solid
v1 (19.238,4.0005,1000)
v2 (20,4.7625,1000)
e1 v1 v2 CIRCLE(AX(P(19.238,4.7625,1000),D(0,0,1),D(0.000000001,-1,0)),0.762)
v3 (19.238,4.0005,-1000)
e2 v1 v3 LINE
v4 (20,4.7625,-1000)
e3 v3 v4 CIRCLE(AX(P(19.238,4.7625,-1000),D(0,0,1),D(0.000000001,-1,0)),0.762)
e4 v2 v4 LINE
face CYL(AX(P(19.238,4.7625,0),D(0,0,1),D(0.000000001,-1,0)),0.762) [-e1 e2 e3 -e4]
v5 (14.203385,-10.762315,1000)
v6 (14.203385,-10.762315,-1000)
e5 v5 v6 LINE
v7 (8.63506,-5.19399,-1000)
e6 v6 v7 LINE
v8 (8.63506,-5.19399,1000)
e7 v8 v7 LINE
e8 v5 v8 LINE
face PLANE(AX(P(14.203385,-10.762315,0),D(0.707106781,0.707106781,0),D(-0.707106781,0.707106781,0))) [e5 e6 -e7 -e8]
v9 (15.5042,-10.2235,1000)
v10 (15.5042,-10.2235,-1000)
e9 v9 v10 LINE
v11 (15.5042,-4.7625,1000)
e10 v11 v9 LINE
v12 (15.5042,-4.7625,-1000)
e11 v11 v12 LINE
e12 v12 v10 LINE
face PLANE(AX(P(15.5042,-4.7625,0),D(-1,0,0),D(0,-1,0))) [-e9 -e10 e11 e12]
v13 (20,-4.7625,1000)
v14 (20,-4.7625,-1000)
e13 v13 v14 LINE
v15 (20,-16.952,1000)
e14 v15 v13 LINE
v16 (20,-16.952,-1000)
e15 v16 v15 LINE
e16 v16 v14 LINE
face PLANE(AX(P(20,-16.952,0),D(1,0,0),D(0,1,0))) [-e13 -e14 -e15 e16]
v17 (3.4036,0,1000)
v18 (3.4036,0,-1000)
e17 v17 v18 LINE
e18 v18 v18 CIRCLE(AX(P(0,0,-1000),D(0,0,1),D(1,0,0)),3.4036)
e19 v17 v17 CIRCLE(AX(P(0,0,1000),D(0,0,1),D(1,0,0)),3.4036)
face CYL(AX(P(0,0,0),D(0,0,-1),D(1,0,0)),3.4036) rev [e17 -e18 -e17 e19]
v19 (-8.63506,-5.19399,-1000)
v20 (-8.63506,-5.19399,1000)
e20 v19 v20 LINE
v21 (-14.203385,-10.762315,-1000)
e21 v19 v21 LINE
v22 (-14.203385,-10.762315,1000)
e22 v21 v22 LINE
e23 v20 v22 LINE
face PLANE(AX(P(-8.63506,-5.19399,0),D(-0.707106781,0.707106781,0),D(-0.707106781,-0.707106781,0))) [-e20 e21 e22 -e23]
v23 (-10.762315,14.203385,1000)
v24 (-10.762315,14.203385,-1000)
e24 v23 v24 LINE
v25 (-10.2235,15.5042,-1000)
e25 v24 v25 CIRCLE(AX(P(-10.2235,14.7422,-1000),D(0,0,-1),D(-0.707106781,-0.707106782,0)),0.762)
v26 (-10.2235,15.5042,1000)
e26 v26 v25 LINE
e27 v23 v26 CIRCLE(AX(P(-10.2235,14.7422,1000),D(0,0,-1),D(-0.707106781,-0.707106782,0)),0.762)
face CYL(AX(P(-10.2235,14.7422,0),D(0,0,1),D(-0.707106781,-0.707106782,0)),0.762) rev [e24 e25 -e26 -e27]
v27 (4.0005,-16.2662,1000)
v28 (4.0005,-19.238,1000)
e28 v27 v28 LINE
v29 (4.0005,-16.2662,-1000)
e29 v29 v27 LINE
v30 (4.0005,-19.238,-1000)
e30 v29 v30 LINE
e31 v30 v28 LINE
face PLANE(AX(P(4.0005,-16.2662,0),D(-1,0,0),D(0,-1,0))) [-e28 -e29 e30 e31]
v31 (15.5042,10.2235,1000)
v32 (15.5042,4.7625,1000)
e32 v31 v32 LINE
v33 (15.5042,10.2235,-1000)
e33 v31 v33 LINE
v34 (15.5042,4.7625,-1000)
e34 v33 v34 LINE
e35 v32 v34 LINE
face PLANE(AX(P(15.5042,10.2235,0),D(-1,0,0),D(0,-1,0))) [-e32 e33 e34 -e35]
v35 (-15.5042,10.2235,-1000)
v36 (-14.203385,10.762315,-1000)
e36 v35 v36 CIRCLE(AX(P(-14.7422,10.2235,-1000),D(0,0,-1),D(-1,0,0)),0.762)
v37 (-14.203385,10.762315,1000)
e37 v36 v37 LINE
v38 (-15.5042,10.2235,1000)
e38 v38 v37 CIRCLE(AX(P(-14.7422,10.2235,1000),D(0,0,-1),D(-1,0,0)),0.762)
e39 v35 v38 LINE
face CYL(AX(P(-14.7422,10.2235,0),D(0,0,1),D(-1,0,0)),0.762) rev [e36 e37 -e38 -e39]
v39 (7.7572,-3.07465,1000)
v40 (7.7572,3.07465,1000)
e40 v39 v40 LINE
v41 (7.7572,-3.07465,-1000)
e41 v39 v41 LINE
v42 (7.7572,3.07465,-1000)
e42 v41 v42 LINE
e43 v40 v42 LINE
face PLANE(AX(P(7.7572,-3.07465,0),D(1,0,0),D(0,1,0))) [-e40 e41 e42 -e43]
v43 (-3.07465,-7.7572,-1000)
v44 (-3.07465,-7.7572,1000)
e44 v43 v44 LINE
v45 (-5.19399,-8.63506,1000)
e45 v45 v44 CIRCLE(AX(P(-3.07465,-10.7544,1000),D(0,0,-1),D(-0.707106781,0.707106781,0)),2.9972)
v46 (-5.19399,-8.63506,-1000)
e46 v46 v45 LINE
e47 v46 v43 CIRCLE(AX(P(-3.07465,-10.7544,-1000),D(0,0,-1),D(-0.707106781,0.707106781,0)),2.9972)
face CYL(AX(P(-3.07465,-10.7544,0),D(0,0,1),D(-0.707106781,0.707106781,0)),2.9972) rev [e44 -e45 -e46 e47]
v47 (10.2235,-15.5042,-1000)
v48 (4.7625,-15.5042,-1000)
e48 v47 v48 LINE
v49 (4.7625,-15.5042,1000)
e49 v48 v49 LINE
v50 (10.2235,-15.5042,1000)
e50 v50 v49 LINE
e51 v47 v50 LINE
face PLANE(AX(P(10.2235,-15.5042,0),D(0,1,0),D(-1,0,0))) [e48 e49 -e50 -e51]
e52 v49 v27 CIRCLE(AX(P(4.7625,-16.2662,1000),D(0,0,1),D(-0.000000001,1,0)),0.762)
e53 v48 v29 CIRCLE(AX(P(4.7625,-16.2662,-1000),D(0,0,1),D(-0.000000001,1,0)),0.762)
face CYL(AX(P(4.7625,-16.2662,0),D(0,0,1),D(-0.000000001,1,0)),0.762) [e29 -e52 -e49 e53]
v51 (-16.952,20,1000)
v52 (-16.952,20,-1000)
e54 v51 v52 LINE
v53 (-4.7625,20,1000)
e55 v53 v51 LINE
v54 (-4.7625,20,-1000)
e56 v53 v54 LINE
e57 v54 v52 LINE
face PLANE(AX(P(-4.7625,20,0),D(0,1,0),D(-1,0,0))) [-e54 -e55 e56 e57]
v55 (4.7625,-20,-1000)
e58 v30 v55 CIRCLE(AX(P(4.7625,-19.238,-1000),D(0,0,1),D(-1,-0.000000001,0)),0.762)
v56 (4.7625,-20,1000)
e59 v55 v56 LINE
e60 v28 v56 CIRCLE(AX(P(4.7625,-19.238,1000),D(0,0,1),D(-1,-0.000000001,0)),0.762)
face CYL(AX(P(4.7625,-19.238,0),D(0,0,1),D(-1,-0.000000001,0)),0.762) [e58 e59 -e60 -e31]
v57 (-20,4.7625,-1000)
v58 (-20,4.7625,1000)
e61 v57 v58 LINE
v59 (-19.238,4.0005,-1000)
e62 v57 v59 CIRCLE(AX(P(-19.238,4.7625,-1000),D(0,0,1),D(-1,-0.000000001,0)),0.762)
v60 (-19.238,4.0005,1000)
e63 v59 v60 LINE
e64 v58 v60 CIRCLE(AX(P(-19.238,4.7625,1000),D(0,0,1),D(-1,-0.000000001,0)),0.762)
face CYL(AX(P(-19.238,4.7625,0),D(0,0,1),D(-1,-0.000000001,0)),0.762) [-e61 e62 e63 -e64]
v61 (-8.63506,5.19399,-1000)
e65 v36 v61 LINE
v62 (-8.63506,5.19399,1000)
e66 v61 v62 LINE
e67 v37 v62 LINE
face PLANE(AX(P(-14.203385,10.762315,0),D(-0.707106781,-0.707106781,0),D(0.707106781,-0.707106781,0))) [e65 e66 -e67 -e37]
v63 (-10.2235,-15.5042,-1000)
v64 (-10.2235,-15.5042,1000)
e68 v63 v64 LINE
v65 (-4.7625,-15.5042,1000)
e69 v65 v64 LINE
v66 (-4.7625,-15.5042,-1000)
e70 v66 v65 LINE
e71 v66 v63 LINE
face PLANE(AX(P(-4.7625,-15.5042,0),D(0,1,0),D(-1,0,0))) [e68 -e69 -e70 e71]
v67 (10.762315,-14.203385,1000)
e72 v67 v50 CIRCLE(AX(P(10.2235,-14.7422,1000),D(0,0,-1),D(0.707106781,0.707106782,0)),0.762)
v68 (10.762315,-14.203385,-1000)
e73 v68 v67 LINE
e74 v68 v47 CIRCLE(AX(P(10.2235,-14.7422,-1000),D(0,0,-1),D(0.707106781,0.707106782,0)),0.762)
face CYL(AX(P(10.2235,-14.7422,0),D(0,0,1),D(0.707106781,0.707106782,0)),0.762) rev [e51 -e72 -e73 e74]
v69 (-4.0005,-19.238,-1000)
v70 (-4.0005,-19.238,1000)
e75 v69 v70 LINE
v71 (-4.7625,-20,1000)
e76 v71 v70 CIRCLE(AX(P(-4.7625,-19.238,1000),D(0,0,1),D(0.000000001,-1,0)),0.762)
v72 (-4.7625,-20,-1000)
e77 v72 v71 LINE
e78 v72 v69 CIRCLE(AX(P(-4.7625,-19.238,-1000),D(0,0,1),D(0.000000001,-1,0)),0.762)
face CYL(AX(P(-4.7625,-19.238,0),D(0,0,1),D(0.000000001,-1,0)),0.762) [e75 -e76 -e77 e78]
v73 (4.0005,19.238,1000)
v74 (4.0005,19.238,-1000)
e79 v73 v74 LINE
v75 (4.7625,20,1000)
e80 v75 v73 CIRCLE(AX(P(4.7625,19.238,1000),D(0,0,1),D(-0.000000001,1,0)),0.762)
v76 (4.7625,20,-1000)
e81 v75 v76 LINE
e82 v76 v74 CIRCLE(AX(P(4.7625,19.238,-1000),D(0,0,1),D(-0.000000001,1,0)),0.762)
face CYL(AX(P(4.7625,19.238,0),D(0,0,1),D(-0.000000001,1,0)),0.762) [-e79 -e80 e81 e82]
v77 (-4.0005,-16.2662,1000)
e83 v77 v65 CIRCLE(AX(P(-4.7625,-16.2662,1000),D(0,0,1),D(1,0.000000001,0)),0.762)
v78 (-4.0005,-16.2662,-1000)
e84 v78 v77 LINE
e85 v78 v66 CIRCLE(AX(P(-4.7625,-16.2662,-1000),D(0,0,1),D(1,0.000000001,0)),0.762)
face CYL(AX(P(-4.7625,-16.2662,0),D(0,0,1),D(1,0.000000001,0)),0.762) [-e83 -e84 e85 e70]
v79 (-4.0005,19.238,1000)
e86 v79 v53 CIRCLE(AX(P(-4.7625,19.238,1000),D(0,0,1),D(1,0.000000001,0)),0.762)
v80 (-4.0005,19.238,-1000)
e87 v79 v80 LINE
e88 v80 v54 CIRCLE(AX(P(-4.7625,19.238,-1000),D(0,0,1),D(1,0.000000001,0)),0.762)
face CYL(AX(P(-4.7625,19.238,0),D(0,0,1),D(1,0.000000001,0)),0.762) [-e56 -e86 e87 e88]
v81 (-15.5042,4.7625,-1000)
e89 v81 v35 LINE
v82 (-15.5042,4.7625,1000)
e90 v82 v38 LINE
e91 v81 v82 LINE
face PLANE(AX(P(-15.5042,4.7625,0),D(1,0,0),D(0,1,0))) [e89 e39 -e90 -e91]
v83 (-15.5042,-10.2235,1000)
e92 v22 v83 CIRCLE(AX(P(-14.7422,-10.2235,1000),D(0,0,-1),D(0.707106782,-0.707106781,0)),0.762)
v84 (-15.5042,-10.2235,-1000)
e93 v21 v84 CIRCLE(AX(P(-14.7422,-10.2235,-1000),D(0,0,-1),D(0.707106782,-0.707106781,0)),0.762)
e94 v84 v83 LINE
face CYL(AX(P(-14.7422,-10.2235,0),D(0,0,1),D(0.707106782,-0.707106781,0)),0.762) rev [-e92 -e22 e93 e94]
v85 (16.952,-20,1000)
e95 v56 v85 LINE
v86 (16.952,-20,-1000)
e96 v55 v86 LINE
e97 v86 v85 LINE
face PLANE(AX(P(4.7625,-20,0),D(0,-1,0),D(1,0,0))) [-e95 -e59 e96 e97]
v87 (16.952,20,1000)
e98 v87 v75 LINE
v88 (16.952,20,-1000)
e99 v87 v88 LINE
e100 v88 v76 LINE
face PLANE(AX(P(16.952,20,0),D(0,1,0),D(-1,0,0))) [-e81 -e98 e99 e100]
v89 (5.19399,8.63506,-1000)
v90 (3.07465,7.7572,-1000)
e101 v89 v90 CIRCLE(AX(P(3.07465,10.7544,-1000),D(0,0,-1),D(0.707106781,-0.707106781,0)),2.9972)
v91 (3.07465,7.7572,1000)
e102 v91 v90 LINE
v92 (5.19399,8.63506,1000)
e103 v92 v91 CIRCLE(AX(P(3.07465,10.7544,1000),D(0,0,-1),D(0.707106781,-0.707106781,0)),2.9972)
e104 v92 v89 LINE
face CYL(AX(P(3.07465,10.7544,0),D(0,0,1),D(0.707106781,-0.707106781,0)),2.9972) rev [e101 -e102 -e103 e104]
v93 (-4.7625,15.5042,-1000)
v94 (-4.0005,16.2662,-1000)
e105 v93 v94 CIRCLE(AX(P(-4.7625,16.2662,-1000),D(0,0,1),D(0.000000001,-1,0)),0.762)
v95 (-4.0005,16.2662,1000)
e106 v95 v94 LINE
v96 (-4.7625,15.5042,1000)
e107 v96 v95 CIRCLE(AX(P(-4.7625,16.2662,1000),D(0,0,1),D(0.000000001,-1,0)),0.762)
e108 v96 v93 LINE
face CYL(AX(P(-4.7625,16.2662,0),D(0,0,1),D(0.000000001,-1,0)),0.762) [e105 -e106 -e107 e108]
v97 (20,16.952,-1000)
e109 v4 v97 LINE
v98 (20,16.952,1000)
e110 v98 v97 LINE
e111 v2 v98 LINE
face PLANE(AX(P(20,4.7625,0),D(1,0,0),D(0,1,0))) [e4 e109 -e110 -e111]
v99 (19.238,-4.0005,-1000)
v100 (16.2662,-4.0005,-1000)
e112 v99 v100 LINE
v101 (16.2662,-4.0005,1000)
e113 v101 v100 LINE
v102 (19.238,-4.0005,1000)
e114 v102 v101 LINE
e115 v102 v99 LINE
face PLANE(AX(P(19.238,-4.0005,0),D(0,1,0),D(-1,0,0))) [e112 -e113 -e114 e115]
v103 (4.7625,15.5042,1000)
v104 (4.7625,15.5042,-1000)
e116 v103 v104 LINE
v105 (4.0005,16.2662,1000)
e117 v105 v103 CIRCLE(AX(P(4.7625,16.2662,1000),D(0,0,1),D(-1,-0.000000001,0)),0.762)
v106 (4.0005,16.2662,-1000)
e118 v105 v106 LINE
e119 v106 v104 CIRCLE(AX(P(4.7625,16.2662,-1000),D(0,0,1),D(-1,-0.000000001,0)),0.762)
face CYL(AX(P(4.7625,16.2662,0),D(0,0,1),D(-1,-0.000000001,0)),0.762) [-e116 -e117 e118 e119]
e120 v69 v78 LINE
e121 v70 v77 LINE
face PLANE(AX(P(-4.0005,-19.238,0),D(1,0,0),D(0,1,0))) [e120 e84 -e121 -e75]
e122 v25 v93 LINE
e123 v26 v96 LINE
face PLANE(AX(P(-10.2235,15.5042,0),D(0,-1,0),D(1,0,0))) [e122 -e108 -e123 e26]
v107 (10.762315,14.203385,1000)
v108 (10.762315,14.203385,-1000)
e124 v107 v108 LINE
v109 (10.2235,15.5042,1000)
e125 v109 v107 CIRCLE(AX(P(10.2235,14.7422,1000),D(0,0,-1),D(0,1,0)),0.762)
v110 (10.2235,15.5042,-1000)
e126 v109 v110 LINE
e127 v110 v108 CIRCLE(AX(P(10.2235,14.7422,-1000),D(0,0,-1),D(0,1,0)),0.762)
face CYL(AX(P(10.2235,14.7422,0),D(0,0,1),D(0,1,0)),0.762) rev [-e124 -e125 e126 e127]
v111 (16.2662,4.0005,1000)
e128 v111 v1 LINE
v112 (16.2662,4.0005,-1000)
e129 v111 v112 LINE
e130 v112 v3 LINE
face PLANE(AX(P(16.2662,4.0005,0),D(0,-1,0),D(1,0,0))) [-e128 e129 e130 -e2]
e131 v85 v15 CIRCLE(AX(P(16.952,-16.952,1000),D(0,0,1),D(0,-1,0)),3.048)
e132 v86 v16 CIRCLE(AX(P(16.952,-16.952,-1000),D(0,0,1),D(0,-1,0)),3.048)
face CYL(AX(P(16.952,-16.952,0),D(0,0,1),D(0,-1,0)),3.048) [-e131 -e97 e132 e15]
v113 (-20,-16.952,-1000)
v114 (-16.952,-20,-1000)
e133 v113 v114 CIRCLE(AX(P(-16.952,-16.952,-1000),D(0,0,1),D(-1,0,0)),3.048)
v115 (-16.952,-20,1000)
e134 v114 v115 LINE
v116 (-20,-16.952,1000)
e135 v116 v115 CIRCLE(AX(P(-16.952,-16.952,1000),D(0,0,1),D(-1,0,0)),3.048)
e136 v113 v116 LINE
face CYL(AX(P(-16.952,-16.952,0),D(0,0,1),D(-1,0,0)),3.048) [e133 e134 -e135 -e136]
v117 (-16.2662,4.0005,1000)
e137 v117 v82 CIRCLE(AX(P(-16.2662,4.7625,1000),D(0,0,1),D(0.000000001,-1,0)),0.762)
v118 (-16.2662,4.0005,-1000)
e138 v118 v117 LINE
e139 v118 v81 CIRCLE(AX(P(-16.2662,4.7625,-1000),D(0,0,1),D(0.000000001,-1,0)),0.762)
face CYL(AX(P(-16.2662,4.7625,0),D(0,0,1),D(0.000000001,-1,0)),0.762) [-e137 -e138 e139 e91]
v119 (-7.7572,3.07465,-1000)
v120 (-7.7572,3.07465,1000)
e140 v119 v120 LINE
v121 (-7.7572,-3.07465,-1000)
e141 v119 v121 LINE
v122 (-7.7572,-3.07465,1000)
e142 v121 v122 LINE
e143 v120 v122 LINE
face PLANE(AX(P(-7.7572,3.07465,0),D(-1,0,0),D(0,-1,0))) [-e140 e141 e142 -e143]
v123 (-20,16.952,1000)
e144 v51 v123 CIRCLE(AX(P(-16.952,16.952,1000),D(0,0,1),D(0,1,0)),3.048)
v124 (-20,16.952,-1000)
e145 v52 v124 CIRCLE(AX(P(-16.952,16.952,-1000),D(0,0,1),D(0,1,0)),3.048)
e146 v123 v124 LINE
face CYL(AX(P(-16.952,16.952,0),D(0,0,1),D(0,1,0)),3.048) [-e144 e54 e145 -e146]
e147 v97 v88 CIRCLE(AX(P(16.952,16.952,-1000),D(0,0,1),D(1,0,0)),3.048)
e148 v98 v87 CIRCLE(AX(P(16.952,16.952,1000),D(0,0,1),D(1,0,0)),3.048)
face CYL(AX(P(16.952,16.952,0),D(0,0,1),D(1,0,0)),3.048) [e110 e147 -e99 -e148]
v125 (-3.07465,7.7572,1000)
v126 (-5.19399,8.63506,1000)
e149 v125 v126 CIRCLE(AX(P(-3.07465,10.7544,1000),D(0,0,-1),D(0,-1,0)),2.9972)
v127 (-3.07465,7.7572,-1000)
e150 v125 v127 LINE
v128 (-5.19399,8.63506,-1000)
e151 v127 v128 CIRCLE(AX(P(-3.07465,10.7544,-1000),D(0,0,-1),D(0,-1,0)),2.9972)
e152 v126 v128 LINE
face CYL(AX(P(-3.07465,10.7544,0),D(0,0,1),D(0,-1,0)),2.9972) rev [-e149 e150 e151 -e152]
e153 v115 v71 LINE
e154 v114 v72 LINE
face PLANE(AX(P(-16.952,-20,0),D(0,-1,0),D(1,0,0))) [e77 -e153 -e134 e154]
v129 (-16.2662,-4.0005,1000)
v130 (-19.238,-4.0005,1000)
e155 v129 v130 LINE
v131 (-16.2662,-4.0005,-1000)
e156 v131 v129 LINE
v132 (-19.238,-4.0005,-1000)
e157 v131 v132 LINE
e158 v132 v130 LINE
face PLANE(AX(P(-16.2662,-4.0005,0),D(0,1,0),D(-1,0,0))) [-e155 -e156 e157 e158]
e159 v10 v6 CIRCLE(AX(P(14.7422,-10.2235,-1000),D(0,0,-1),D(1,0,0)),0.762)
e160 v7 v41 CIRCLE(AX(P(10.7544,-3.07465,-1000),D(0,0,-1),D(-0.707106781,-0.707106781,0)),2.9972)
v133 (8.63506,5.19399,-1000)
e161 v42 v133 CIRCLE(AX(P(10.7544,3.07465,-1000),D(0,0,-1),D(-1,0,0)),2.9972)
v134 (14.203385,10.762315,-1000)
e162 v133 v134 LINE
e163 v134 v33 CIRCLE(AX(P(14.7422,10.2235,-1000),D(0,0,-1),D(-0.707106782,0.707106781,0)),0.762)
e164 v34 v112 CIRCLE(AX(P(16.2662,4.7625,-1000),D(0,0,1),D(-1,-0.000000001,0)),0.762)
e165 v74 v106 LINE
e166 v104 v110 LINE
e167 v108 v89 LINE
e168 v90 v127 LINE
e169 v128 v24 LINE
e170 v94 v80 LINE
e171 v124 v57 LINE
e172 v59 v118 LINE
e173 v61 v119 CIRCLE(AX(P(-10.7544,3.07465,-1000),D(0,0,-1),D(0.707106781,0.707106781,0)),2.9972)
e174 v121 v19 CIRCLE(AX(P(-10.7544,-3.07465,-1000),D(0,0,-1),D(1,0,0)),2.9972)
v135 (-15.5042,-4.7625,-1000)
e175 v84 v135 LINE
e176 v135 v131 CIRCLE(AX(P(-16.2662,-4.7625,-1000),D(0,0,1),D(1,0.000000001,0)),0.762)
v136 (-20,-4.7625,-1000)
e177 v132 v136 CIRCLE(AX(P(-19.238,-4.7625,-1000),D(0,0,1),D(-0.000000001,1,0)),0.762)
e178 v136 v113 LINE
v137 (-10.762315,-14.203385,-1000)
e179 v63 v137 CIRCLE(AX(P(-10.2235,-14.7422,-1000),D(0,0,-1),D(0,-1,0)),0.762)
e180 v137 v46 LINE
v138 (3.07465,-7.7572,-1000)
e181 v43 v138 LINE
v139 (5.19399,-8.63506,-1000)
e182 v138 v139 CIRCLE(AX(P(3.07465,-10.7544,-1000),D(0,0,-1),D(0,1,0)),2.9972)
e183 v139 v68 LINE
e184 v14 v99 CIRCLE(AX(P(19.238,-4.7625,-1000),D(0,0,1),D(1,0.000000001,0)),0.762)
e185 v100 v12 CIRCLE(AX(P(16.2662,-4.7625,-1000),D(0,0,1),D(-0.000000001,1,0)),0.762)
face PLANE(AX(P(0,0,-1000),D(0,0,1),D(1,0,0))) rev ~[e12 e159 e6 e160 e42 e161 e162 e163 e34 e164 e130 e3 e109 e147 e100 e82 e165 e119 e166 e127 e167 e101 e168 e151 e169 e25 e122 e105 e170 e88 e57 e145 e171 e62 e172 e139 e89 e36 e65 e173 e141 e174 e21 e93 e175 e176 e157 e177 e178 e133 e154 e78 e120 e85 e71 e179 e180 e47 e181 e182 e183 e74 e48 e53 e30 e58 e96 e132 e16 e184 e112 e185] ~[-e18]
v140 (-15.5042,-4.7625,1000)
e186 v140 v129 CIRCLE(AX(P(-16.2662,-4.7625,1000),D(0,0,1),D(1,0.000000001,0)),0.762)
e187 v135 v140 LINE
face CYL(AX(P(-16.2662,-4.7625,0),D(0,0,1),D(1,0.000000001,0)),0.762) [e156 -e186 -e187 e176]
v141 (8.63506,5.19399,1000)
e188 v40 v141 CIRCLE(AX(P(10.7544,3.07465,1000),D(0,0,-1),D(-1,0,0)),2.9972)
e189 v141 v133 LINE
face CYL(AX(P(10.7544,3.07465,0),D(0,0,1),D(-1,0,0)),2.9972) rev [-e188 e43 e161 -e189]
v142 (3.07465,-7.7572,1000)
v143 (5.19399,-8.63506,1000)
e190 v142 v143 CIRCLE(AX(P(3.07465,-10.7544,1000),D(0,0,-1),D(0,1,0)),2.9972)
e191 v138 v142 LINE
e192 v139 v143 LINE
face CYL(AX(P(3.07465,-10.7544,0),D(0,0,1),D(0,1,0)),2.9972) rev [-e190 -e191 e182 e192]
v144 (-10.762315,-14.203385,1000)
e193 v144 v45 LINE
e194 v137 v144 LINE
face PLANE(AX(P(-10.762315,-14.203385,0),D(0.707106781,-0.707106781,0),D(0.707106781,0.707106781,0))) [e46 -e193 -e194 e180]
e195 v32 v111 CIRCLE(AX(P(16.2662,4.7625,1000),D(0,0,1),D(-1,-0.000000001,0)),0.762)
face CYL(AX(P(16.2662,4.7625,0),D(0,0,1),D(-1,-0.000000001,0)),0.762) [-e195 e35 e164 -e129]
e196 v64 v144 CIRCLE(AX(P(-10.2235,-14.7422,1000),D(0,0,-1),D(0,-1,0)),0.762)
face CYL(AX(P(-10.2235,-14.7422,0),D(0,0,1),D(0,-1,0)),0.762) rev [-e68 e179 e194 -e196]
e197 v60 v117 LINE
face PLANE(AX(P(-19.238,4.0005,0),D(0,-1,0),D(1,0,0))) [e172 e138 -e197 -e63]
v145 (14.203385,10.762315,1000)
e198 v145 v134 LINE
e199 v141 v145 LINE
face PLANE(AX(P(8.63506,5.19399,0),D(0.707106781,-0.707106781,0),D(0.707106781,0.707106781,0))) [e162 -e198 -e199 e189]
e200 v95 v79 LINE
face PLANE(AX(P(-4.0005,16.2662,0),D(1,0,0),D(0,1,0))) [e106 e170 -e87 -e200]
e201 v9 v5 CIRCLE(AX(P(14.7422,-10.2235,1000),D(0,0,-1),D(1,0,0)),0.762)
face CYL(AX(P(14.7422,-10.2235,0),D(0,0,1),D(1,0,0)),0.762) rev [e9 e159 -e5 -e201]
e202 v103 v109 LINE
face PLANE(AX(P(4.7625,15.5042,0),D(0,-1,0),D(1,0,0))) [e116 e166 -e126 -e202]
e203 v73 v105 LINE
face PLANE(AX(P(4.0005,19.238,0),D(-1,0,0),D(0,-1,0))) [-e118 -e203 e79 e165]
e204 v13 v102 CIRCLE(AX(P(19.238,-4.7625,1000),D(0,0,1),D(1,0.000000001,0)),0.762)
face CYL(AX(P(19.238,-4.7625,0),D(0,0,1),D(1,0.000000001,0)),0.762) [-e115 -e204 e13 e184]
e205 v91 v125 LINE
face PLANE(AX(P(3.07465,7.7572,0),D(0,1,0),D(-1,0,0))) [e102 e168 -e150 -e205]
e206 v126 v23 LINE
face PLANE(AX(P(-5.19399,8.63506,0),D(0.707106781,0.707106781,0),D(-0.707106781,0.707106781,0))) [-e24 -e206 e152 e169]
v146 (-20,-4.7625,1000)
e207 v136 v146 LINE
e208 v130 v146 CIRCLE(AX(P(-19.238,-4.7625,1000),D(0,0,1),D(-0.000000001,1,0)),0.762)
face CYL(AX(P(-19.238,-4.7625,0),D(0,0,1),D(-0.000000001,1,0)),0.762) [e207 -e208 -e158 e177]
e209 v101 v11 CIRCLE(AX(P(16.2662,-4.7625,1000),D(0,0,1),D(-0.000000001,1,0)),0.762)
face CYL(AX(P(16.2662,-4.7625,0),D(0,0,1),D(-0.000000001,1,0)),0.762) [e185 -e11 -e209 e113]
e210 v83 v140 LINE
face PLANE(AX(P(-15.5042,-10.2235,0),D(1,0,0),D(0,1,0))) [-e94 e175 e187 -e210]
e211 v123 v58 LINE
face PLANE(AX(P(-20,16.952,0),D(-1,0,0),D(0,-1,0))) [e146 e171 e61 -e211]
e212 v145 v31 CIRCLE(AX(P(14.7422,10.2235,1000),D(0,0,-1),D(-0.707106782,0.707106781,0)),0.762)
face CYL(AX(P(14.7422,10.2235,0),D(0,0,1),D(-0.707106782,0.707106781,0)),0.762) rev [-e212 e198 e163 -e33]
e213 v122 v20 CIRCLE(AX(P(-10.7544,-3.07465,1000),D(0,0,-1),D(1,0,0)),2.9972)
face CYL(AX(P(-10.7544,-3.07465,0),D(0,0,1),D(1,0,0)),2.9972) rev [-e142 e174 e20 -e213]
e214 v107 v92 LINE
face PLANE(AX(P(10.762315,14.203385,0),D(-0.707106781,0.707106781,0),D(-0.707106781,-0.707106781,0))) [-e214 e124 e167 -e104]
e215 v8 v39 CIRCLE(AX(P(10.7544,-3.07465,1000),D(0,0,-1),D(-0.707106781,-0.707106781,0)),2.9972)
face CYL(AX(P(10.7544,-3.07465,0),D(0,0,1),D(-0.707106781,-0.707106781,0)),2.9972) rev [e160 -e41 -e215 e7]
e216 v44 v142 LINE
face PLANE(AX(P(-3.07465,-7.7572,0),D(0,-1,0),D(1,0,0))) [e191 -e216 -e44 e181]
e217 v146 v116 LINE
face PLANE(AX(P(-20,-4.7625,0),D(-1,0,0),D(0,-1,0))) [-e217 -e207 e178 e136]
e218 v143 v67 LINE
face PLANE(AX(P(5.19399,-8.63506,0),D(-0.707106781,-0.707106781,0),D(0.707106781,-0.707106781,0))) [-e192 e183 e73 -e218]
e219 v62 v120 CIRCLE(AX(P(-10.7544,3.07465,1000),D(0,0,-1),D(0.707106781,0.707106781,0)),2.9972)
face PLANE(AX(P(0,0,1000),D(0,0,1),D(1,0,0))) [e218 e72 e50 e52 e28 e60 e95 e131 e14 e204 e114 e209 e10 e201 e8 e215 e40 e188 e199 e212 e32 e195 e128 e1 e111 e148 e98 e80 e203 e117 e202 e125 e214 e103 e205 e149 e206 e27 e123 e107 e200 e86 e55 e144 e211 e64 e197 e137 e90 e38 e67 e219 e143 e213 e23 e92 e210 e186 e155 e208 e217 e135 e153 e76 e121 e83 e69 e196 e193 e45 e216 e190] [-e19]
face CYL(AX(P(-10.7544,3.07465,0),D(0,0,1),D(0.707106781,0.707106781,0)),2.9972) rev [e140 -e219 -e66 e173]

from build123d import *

# Parameters (mm, degrees)
SKETCH1_R           = 3.4036
BOSS_EXTRUDE1_DEPTH = 1000


with BuildPart() as part:
    # Sketch1 → Boss-Extrude1 (new body, symmetric)
    with BuildSketch(Plane.XY):
        with BuildLine():
            Line((-20, 16.952), (-20, 4.7625))
            ThreePointArc((-20, 4.7625), (-19.776815367, 4.223684633), (-19.238, 4.0005))
            Line((-19.238, 4.0005), (-16.2662, 4.0005))
            ThreePointArc((-16.2662, 4.0005), (-15.727384633, 4.223684633), (-15.5042, 4.7625))
            Line((-15.5042, 4.7625), (-15.5042, 10.2235))
            ThreePointArc((-15.5042, 10.2235), (-15.033804775, 10.927496204), (-14.203384633, 10.762315367))
            Line((-14.203384633, 10.762315367), (-8.635059555, 5.19399029))
            ThreePointArc((-8.635059555, 5.19399029), (-7.985348265, 4.221628629), (-7.7572, 3.074649845))
            Line((-7.7572, 3.074649845), (-7.7572, -3.074649845))
            ThreePointArc((-7.7572, -3.074649845), (-7.985348265, -4.221628629), (-8.635059555, -5.19399029))
            Line((-8.635059555, -5.19399029), (-14.203384633, -10.762315367))
            ThreePointArc((-14.203384633, -10.762315367), (-15.033804775, -10.927496204), (-15.5042, -10.2235))
            Line((-15.5042, -10.2235), (-15.5042, -4.7625))
            ThreePointArc((-15.5042, -4.7625), (-15.727384633, -4.223684633), (-16.2662, -4.0005))
            Line((-16.2662, -4.0005), (-19.238, -4.0005))
            ThreePointArc((-19.238, -4.0005), (-19.776815367, -4.223684633), (-20, -4.7625))
            Line((-20, -4.7625), (-20, -16.952))
            ThreePointArc((-20, -16.952), (-19.107261469, -19.107261469), (-16.952, -20))
            Line((-16.952, -20), (-4.7625, -20))
            ThreePointArc((-4.7625, -20), (-4.223684633, -19.776815367), (-4.0005, -19.238))
            Line((-4.0005, -19.238), (-4.0005, -16.2662))
            ThreePointArc((-4.0005, -16.2662), (-4.223684633, -15.727384633), (-4.7625, -15.5042))
            Line((-4.7625, -15.5042), (-10.2235, -15.5042))
            ThreePointArc((-10.2235, -15.5042), (-10.927496204, -15.033804775), (-10.762315367, -14.203384633))
            Line((-10.762315367, -14.203384633), (-5.19399029, -8.635059555))
            ThreePointArc((-5.19399029, -8.635059555), (-4.221628629, -7.985348265), (-3.074649845, -7.7572))
            Line((-3.074649845, -7.7572), (3.074649845, -7.7572))
            ThreePointArc((3.074649845, -7.7572), (4.221628629, -7.985348265), (5.19399029, -8.635059555))
            Line((5.19399029, -8.635059555), (10.762315367, -14.203384633))
            ThreePointArc((10.762315367, -14.203384633), (10.927496204, -15.033804775), (10.2235, -15.5042))
            Line((10.2235, -15.5042), (4.7625, -15.5042))
            ThreePointArc((4.7625, -15.5042), (4.223684633, -15.727384633), (4.0005, -16.2662))
            Line((4.0005, -16.2662), (4.0005, -19.238))
            ThreePointArc((4.0005, -19.238), (4.223684633, -19.776815367), (4.7625, -20))
            Line((4.7625, -20), (16.952, -20))
            ThreePointArc((16.952, -20), (19.107261469, -19.107261469), (20, -16.952))
            Line((20, -16.952), (20, -4.7625))
            ThreePointArc((20, -4.7625), (19.776815367, -4.223684633), (19.238, -4.0005))
            Line((19.238, -4.0005), (16.2662, -4.0005))
            ThreePointArc((16.2662, -4.0005), (15.727384633, -4.223684633), (15.5042, -4.7625))
            Line((15.5042, -4.7625), (15.5042, -10.2235))
            ThreePointArc((15.5042, -10.2235), (15.033804775, -10.927496204), (14.203384633, -10.762315367))
            Line((14.203384633, -10.762315367), (8.635059555, -5.19399029))
            ThreePointArc((8.635059555, -5.19399029), (7.985348265, -4.221628629), (7.7572, -3.074649845))
            Line((7.7572, -3.074649845), (7.7572, 3.074649845))
            ThreePointArc((7.7572, 3.074649845), (7.985348265, 4.221628629), (8.635059555, 5.19399029))
            Line((8.635059555, 5.19399029), (14.203384633, 10.762315367))
            ThreePointArc((14.203384633, 10.762315367), (15.033804775, 10.927496204), (15.5042, 10.2235))
            Line((15.5042, 10.2235), (15.5042, 4.7625))
            ThreePointArc((15.5042, 4.7625), (15.727384633, 4.223684633), (16.2662, 4.0005))
            Line((16.2662, 4.0005), (19.238, 4.0005))
            ThreePointArc((19.238, 4.0005), (19.776815367, 4.223684633), (20, 4.7625))
            Line((20, 4.7625), (20, 16.952))
            ThreePointArc((20, 16.952), (19.107261469, 19.107261469), (16.952, 20))
            Line((16.952, 20), (4.7625, 20))
            ThreePointArc((4.7625, 20), (4.223684633, 19.776815367), (4.0005, 19.238))
            Line((4.0005, 19.238), (4.0005, 16.2662))
            ThreePointArc((4.0005, 16.2662), (4.223684633, 15.727384633), (4.7625, 15.5042))
            Line((4.7625, 15.5042), (10.2235, 15.5042))
            ThreePointArc((10.2235, 15.5042), (10.927496204, 15.033804775), (10.762315367, 14.203384633))
            Line((10.762315367, 14.203384633), (5.19399029, 8.635059555))
            ThreePointArc((5.19399029, 8.635059555), (4.221628629, 7.985348265), (3.074649845, 7.7572))
            Line((3.074649845, 7.7572), (-3.074649845, 7.7572))
            ThreePointArc((-3.074649845, 7.7572), (-4.221628629, 7.985348265), (-5.19399029, 8.635059555))
            Line((-5.19399029, 8.635059555), (-10.762315367, 14.203384633))
            ThreePointArc((-10.762315367, 14.203384633), (-10.927496204, 15.033804775), (-10.2235, 15.5042))
            Line((-10.2235, 15.5042), (-4.7625, 15.5042))
            ThreePointArc((-4.7625, 15.5042), (-4.223684633, 15.727384633), (-4.0005, 16.2662))
            Line((-4.0005, 16.2662), (-4.0005, 19.238))
            ThreePointArc((-4.0005, 19.238), (-4.223684633, 19.776815367), (-4.7625, 20))
            Line((-4.7625, 20), (-16.952, 20))
            ThreePointArc((-16.952, 20), (-19.107261469, 19.107261469), (-20, 16.952))
        make_face()
        Circle(SKETCH1_R, mode=Mode.SUBTRACT)
    extrude(amount=BOSS_EXTRUDE1_DEPTH, both=True)


solid = part.part
